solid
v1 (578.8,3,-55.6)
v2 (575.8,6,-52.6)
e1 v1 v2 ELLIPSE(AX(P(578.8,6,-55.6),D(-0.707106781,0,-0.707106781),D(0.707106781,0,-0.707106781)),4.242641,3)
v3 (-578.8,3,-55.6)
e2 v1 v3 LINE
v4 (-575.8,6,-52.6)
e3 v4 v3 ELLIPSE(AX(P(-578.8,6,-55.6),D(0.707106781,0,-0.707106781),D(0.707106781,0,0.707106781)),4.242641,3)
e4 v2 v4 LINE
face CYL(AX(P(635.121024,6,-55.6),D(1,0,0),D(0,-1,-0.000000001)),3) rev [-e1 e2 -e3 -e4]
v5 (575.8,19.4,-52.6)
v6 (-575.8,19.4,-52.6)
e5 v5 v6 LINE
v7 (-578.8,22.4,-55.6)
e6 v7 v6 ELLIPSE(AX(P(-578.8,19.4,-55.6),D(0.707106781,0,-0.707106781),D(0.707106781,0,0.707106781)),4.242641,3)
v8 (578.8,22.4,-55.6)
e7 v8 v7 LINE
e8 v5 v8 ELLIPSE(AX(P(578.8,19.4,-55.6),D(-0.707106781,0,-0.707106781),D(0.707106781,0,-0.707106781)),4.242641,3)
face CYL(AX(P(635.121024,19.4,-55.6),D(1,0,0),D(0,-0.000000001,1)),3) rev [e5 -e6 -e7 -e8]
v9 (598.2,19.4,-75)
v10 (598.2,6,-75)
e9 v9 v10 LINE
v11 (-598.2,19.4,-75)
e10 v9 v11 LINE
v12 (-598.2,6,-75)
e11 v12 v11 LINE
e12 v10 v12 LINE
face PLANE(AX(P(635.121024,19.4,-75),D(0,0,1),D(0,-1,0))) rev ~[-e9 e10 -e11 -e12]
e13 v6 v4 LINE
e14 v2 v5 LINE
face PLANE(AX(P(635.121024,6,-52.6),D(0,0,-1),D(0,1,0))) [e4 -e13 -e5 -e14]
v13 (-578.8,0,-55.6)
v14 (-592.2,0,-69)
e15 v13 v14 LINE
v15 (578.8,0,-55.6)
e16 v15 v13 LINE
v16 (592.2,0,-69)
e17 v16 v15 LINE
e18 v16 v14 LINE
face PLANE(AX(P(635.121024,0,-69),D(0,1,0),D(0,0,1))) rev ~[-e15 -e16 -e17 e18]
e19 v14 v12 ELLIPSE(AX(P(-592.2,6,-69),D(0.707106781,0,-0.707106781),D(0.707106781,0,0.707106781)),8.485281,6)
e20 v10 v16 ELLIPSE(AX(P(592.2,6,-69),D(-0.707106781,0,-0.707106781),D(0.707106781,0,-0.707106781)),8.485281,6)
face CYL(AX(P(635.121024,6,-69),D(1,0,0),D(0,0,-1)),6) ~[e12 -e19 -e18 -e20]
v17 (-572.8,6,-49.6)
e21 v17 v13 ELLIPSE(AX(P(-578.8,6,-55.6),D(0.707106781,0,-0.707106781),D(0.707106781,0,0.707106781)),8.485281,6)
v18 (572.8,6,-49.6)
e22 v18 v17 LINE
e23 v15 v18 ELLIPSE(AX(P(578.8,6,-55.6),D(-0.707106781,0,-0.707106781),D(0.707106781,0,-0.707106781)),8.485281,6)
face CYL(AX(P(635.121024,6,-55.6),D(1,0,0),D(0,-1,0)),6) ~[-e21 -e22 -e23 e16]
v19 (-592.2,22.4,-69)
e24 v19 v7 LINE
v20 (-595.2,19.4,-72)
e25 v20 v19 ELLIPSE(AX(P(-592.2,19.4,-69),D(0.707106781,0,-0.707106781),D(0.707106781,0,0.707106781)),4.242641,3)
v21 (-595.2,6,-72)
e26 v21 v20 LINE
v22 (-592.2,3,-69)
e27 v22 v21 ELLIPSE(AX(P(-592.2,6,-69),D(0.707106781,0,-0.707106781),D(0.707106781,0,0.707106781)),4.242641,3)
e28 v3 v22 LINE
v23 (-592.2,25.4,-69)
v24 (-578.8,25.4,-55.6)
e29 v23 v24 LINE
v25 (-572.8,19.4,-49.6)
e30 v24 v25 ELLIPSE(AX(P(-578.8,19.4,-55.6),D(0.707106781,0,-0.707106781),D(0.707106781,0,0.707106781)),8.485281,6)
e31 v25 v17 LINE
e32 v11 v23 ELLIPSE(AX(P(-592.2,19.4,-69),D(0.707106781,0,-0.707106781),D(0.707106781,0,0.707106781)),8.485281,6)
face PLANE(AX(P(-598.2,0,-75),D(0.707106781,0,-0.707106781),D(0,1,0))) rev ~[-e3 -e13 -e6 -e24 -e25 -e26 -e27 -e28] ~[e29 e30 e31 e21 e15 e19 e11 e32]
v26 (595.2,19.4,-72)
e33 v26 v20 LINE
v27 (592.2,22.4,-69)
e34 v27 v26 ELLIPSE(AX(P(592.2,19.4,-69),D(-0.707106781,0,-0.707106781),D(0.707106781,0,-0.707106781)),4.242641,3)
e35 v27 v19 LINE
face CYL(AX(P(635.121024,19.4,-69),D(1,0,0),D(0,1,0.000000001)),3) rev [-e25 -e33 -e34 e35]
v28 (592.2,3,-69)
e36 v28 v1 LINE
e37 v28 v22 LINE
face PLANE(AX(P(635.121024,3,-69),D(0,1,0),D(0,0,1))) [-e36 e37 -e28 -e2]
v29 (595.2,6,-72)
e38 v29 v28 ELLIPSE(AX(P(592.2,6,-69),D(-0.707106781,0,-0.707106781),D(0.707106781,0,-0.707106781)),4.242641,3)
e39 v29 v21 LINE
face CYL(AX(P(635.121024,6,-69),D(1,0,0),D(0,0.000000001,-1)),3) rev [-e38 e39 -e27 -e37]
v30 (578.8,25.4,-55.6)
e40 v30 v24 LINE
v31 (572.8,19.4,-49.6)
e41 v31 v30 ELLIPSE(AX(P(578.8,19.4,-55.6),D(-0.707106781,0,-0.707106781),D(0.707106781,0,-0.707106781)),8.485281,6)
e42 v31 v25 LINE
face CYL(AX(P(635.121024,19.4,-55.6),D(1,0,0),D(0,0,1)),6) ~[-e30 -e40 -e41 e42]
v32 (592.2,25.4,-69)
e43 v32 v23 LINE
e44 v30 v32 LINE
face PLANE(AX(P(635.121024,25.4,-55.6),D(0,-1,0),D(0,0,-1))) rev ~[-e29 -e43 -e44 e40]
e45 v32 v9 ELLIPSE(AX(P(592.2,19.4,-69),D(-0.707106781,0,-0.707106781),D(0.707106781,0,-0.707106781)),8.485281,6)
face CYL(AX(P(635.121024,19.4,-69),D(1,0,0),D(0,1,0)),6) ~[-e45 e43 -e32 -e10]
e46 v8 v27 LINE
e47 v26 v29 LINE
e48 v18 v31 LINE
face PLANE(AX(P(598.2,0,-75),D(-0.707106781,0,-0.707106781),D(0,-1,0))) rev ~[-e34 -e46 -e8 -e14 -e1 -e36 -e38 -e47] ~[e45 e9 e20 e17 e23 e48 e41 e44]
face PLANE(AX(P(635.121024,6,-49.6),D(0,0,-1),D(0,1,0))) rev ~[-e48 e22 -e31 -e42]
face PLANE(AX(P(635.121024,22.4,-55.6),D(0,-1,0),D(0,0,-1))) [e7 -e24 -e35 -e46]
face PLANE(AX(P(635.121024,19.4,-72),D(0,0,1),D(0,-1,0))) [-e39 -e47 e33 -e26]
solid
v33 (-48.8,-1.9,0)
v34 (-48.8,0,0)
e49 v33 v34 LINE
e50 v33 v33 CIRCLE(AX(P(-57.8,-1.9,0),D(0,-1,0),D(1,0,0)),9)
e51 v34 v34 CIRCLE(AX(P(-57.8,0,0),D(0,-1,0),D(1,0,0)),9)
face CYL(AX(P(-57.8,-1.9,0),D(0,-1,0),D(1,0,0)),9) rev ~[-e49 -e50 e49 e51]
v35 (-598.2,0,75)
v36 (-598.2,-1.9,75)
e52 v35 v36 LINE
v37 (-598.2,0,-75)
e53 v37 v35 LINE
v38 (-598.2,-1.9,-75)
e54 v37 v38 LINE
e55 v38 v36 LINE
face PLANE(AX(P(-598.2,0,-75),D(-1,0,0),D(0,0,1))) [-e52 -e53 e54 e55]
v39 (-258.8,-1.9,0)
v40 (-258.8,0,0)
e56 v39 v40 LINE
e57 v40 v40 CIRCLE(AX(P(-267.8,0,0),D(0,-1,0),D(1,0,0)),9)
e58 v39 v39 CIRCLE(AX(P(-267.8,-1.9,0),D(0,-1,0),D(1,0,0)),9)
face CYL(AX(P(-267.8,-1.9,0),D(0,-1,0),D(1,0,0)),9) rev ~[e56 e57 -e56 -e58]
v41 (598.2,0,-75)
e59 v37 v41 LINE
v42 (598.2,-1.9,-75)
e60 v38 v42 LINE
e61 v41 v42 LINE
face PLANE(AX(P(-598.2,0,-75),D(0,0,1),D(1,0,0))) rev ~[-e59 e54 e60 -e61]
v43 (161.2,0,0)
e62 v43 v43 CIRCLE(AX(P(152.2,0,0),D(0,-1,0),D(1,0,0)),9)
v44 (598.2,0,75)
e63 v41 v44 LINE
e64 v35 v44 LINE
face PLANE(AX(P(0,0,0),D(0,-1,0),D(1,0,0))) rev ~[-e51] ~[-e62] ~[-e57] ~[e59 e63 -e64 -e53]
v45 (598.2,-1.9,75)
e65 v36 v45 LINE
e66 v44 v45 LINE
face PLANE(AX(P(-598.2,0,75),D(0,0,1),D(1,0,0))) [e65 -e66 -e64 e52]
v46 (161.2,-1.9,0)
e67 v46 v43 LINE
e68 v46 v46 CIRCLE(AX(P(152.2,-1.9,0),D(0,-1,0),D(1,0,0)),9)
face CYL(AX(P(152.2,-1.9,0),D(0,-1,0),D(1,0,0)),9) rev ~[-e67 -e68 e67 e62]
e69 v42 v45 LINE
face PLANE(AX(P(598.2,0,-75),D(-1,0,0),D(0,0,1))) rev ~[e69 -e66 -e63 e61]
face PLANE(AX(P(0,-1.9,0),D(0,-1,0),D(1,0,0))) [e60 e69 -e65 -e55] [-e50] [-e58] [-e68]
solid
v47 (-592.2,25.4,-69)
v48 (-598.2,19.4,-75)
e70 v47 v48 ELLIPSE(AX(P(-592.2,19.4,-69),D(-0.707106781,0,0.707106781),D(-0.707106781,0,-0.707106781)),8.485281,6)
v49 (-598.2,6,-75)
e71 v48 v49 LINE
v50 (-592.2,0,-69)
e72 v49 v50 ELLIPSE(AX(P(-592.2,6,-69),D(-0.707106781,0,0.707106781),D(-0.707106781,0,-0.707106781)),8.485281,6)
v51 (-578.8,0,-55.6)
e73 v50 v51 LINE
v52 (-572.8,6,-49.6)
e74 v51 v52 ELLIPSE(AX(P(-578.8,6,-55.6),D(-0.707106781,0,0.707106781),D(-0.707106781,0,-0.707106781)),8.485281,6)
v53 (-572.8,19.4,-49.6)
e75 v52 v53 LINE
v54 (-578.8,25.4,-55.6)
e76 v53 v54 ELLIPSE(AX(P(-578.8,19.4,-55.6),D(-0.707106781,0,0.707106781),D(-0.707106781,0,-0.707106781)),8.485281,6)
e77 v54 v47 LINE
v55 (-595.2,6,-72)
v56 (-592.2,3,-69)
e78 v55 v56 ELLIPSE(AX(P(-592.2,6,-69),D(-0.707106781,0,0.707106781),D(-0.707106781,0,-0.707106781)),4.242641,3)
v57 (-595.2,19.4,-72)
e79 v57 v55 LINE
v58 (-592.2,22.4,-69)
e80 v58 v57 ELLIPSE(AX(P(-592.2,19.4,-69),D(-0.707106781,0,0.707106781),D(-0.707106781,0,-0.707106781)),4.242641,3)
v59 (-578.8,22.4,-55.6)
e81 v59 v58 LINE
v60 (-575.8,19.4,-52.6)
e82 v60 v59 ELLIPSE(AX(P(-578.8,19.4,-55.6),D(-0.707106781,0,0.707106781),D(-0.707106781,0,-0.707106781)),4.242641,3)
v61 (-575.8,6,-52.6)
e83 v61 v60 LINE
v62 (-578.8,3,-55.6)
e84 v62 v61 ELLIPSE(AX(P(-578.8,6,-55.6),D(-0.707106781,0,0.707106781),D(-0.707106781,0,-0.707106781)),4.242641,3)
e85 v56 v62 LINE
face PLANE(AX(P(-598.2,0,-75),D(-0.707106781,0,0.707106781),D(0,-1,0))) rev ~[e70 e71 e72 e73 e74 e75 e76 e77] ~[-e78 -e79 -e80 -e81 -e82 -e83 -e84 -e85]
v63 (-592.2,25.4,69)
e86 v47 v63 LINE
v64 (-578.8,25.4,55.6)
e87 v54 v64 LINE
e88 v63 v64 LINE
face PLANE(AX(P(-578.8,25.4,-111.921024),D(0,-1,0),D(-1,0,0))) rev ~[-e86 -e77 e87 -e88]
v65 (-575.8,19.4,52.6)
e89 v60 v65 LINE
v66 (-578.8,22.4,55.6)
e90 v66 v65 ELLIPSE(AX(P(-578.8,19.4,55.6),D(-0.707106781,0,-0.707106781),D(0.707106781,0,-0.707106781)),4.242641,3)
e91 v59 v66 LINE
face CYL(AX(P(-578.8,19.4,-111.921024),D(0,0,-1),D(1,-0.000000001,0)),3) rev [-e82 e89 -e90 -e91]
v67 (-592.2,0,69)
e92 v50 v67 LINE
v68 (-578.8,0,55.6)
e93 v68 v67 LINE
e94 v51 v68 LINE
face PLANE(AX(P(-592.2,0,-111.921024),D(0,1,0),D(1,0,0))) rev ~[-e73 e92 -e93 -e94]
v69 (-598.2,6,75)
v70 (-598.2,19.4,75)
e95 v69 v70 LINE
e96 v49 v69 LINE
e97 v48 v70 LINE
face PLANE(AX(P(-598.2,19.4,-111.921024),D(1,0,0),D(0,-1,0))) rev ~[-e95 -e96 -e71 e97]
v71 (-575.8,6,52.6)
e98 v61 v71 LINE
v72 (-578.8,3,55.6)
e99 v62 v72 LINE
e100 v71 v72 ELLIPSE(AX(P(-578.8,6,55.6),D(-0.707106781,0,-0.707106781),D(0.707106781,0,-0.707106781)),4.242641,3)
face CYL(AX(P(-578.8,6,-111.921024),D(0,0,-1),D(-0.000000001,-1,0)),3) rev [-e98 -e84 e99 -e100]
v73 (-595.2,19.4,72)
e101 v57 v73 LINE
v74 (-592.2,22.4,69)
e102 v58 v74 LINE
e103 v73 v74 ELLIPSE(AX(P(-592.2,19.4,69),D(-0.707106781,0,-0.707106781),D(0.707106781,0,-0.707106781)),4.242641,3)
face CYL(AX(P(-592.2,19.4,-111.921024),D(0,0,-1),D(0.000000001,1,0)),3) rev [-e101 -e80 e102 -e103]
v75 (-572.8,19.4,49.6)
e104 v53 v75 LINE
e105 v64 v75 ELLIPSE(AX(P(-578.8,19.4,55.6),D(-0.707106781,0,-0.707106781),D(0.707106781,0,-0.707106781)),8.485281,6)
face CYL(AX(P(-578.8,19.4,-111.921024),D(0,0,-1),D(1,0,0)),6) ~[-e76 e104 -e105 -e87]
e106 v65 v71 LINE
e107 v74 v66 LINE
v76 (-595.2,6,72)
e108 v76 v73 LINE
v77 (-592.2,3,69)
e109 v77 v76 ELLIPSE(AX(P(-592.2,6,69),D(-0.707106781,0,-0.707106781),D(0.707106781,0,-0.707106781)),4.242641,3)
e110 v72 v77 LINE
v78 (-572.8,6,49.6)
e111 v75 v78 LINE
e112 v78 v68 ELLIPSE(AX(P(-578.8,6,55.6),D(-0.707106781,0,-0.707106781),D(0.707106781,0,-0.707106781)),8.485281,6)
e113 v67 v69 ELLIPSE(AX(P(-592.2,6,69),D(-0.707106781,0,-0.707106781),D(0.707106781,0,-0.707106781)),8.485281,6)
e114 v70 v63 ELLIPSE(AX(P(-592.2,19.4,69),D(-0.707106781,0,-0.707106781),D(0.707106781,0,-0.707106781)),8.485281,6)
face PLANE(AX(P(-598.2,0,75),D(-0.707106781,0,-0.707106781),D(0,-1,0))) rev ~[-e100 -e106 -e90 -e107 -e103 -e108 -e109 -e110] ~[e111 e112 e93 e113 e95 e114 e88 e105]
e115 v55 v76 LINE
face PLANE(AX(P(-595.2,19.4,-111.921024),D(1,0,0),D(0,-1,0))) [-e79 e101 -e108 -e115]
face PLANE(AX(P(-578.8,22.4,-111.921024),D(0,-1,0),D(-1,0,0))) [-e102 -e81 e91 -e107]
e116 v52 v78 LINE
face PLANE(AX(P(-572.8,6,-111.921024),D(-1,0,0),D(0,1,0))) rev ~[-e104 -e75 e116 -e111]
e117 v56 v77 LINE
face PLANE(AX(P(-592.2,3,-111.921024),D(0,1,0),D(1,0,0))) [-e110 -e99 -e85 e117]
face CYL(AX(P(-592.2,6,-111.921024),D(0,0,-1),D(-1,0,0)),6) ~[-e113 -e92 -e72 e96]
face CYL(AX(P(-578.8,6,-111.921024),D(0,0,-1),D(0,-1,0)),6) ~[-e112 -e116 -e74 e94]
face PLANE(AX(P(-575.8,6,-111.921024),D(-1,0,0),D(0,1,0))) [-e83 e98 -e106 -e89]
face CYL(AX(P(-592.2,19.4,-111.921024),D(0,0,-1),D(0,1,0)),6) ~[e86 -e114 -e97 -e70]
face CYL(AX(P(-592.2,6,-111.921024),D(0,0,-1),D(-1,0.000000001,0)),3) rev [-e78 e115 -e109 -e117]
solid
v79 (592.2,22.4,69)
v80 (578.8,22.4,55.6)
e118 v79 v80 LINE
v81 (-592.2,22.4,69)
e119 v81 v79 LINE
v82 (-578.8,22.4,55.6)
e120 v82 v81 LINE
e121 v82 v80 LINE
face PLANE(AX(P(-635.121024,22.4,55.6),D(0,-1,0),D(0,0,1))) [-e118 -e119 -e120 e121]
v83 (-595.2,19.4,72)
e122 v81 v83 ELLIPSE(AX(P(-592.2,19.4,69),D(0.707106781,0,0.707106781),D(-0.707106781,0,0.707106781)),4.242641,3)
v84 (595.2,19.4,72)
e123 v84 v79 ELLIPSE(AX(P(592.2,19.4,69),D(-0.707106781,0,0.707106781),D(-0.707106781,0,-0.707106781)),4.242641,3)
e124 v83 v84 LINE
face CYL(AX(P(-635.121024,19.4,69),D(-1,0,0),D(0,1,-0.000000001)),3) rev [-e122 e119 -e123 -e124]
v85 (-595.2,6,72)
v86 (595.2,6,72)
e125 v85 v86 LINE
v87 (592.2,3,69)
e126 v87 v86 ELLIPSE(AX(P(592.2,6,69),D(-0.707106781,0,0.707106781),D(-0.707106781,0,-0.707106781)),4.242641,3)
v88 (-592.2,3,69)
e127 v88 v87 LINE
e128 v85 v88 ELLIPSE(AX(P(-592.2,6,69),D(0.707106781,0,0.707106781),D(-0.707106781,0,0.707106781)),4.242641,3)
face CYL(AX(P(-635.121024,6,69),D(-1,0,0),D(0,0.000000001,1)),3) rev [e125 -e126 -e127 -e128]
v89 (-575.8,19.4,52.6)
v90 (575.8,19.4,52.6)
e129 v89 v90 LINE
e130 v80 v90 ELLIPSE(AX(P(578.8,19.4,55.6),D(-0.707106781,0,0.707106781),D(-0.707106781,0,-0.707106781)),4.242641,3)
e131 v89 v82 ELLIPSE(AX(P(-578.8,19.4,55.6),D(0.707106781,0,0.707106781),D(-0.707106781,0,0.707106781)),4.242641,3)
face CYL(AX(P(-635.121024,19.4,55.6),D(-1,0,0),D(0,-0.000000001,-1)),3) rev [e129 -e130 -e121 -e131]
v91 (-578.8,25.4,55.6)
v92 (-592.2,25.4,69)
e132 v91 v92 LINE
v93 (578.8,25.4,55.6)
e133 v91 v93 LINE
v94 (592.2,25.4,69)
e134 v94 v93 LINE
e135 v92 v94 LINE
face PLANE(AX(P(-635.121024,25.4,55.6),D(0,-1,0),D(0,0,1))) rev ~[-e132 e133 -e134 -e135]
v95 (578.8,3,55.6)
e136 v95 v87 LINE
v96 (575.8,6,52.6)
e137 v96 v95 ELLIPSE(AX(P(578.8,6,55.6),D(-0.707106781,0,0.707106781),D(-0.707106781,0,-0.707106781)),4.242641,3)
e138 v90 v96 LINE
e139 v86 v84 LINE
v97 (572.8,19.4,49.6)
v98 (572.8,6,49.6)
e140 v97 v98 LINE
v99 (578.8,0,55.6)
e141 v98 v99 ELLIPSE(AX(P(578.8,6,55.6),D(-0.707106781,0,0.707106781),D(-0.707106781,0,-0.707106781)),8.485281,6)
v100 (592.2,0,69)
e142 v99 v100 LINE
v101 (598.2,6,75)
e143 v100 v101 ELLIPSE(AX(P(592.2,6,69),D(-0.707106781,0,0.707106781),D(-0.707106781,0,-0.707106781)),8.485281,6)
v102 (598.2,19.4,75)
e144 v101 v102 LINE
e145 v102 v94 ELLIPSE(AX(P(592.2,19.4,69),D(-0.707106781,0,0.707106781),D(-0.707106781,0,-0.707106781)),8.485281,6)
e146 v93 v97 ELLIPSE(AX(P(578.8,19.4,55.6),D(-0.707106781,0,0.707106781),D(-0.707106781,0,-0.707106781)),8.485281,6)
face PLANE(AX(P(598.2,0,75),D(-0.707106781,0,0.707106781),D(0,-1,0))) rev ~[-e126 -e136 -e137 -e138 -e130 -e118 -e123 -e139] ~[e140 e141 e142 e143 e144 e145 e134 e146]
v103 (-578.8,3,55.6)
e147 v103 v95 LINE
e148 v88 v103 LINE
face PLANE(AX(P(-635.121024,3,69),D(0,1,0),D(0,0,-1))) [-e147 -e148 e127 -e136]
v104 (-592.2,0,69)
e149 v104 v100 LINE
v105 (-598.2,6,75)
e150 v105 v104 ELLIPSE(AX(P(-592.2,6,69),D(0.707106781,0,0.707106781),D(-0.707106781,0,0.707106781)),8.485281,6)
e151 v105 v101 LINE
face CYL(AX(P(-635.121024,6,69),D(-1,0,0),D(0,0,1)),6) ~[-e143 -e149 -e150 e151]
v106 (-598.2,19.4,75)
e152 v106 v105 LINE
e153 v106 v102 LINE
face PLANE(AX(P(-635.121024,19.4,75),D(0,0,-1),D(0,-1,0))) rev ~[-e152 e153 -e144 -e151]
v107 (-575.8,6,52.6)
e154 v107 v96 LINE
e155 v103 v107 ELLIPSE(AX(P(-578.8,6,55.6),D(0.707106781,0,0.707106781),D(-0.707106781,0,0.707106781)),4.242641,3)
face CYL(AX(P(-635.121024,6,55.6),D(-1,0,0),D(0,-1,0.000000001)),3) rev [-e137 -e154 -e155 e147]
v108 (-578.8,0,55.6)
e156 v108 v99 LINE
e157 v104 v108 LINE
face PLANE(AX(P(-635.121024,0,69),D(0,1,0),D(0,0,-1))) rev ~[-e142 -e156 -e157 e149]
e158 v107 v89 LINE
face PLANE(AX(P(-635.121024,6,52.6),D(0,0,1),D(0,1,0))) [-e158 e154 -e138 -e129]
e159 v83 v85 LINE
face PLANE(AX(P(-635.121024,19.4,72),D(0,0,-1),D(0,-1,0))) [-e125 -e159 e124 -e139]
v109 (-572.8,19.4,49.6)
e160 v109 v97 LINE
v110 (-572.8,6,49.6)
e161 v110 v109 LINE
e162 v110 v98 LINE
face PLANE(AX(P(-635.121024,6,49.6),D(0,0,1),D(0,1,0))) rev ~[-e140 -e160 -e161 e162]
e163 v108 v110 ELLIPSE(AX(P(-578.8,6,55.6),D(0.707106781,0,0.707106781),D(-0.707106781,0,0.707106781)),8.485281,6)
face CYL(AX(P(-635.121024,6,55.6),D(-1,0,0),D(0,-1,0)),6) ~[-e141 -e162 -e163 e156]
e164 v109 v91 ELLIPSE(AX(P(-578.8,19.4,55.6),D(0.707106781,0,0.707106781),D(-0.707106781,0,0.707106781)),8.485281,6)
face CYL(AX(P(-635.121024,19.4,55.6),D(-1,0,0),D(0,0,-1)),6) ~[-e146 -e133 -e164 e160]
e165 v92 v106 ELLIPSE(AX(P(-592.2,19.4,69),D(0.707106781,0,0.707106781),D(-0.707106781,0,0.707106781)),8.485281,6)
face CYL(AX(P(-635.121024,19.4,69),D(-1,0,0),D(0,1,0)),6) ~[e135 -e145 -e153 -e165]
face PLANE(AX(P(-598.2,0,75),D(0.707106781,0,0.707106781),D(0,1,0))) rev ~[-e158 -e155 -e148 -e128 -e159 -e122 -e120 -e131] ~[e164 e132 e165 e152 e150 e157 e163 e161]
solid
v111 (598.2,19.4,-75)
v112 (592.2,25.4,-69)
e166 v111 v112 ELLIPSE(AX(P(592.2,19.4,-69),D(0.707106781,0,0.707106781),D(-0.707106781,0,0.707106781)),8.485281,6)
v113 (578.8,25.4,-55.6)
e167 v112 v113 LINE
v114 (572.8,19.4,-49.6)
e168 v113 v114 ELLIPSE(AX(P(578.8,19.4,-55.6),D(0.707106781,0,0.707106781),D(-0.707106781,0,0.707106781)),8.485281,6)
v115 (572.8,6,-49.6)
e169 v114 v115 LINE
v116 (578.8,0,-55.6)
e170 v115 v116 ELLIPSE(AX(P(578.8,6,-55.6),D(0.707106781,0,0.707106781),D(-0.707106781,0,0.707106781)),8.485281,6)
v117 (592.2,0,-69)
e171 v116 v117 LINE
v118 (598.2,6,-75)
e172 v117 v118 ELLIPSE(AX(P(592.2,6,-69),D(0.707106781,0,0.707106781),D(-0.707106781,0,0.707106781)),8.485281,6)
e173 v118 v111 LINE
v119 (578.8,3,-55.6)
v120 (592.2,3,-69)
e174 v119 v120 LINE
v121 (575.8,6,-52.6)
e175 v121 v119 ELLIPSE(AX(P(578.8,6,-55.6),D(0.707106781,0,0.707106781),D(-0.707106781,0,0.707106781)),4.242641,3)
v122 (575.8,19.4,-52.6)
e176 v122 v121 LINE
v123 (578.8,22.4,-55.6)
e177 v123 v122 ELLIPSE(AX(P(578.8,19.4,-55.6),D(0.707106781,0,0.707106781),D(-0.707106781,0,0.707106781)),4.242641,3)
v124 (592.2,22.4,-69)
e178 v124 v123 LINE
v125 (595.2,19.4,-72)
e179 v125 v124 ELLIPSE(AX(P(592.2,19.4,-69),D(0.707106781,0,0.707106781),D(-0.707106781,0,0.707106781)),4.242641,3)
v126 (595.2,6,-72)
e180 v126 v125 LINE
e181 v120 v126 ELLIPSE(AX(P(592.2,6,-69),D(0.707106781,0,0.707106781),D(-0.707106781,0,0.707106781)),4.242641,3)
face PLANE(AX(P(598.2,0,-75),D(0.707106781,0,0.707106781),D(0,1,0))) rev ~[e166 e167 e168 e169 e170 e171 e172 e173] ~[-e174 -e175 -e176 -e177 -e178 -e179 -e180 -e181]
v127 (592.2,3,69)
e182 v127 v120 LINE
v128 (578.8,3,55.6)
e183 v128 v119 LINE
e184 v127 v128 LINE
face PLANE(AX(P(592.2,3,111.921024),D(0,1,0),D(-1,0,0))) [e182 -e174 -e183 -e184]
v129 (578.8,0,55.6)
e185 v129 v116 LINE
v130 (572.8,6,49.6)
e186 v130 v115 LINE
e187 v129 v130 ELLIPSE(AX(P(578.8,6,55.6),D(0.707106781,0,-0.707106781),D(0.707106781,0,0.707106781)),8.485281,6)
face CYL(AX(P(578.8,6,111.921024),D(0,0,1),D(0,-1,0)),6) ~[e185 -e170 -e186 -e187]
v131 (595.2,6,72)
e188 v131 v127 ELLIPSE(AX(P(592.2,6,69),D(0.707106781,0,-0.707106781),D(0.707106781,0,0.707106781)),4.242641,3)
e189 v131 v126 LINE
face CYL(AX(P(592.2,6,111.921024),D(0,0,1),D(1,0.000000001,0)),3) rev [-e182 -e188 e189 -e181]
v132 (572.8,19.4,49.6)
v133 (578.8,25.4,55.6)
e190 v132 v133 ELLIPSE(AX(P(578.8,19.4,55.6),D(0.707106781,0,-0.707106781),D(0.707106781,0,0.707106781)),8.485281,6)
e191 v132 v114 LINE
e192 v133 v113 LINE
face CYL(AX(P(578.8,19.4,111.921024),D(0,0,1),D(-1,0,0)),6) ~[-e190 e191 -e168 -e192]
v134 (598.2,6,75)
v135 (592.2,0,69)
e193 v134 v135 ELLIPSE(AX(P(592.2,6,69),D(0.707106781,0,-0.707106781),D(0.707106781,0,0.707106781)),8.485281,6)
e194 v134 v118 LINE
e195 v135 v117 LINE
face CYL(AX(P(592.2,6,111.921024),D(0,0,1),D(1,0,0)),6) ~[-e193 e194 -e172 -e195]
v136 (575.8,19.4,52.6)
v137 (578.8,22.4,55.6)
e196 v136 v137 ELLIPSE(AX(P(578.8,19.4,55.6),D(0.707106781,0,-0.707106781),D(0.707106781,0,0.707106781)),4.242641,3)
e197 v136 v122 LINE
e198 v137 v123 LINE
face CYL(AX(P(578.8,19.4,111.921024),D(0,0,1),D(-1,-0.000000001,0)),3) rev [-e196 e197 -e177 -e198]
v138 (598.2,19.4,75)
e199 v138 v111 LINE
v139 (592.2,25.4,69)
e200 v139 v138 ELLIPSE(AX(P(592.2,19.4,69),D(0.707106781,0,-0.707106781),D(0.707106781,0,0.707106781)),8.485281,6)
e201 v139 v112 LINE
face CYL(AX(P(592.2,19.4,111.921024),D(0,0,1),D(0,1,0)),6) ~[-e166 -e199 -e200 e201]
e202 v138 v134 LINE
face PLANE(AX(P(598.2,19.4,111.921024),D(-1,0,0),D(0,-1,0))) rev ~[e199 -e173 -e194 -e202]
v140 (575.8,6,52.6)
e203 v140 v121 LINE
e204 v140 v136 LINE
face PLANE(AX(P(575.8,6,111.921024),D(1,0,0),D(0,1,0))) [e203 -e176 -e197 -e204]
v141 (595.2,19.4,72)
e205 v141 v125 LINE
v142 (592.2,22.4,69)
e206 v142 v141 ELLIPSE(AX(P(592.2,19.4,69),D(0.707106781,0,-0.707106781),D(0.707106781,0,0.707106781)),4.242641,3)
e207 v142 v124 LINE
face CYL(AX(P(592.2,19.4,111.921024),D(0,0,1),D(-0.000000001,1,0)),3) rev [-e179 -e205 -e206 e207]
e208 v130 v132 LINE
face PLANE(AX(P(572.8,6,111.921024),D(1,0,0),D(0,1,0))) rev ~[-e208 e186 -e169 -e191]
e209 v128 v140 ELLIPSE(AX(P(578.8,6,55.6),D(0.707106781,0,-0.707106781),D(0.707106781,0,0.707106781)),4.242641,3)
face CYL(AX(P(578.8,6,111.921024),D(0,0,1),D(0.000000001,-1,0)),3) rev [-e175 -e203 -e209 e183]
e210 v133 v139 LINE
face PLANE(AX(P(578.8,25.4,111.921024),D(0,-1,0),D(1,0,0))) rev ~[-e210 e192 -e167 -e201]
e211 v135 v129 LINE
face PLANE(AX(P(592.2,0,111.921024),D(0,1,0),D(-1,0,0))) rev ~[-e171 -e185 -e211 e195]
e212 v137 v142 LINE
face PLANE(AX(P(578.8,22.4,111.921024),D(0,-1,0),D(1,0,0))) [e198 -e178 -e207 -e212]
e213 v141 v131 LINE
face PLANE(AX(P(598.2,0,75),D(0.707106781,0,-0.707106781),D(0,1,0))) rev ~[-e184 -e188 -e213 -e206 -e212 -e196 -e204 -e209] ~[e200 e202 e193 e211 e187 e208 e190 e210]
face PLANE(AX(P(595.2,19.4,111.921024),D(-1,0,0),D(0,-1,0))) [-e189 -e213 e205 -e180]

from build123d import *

# Parameters (mm, degrees)
TUBO_CUADRADO_2_X_2_X_0_25_1_DEPTH      = 186.921024484
TUBO_CUADRADO_2_X_2_X_0_25_1_DEPTH_BACK = 36.921024484
TUBO_CUADRADO_2_X_2_X_0_25_1_2_DEPTH    = 1270.242048969
TUBO_CUADRADO_2_X_2_X_0_25_1_3_DEPTH    = 223.842048969
TUBO_CUADRADO_2_X_2_X_0_25_1_4_DEPTH    = 1270.242048969
CROQUIS3_W                              = 1196.4
CROQUIS3_H                              = 150
SALIENTE_EXTRUIR1_DEPTH                 = 1.9
CROQUIS6_R                              = 9
CORTAR_EXTRUIR1_DEPTH                   = 10


with BuildPart() as part:
    # Sketch1 → Tubo cuadrado 2 X 2 X 0.25(1) (new, two sides: drawn at the far end of the back side and taken through both)
    with BuildSketch(Plane(origin=(-585.5, 12.7, -75), x_dir=(1, 0, 0), z_dir=(0, 0, 1)).offset(-TUBO_CUADRADO_2_X_2_X_0_25_1_DEPTH_BACK)):
        with BuildLine():
            Line((-6.7, -12.7), (6.7, -12.7))
            ThreePointArc((6.7, -12.7), (10.942640687, -10.942640687), (12.7, -6.7))
            Line((12.7, -6.7), (12.7, 6.7))
            ThreePointArc((12.7, 6.7), (10.942640687, 10.942640687), (6.7, 12.7))
            Line((6.7, 12.7), (-6.7, 12.7))
            ThreePointArc((-6.7, 12.7), (-10.942640687, 10.942640687), (-12.7, 6.7))
            Line((-12.7, 6.7), (-12.7, -6.7))
            ThreePointArc((-12.7, -6.7), (-10.942640687, -10.942640687), (-6.7, -12.7))
        make_face()
        with BuildLine():
            Line((-6.7, -9.7), (6.7, -9.7))
            ThreePointArc((6.7, -9.7), (8.821320344, -8.821320344), (9.7, -6.7))
            Line((9.7, -6.7), (9.7, 6.7))
            ThreePointArc((9.7, 6.7), (8.821320344, 8.821320344), (6.7, 9.7))
            Line((6.7, 9.7), (-6.7, 9.7))
            ThreePointArc((-6.7, 9.7), (-8.821320344, 8.821320344), (-9.7, 6.7))
            Line((-9.7, 6.7), (-9.7, -6.7))
            ThreePointArc((-9.7, -6.7), (-8.821320344, -8.821320344), (-6.7, -9.7))
        make_face(mode=Mode.SUBTRACT)
    extrude(amount=TUBO_CUADRADO_2_X_2_X_0_25_1_DEPTH + TUBO_CUADRADO_2_X_2_X_0_25_1_DEPTH_BACK)

    # Tubo cuadrado 2 X 2 X 0.25(1) mitre 1
    split(bisect_by=Plane(origin=(-598.2, 0, -75), x_dir=(0, -1, 0), z_dir=(-0.707106781, 0, 0.707106781)), keep=Keep.TOP)

    # Tubo cuadrado 2 X 2 X 0.25(1) mitre 2
    split(bisect_by=Plane(origin=(-598.2, 0, 75), x_dir=(0, -1, 0), z_dir=(-0.707106781, 0, -0.707106781)), keep=Keep.TOP)


with BuildPart() as body_2:
    # Sketch1 on segment 2 (carried to segment 2) → Tubo cuadrado 2 X 2 X 0.25_1 2 (new body)
    with BuildSketch(Plane(origin=(-635.121024484, 12.7, 62.3), x_dir=(0, 0, -1), z_dir=(1, 0, 0))):
        with BuildLine():
            Line((-6.7, -12.7), (6.7, -12.7))
            ThreePointArc((6.7, -12.7), (10.942640687, -10.942640687), (12.7, -6.7))
            Line((12.7, -6.7), (12.7, 6.7))
            ThreePointArc((12.7, 6.7), (10.942640687, 10.942640687), (6.7, 12.7))
            Line((6.7, 12.7), (-6.7, 12.7))
            ThreePointArc((-6.7, 12.7), (-10.942640687, 10.942640687), (-12.7, 6.7))
            Line((-12.7, 6.7), (-12.7, -6.7))
            ThreePointArc((-12.7, -6.7), (-10.942640687, -10.942640687), (-6.7, -12.7))
        make_face()
        with BuildLine():
            Line((-6.7, -9.7), (6.7, -9.7))
            ThreePointArc((6.7, -9.7), (8.821320344, -8.821320344), (9.7, -6.7))
            Line((9.7, -6.7), (9.7, 6.7))
            ThreePointArc((9.7, 6.7), (8.821320344, 8.821320344), (6.7, 9.7))
            Line((6.7, 9.7), (-6.7, 9.7))
            ThreePointArc((-6.7, 9.7), (-8.821320344, 8.821320344), (-9.7, 6.7))
            Line((-9.7, 6.7), (-9.7, -6.7))
            ThreePointArc((-9.7, -6.7), (-8.821320344, -8.821320344), (-6.7, -9.7))
        make_face(mode=Mode.SUBTRACT)
    extrude(amount=TUBO_CUADRADO_2_X_2_X_0_25_1_2_DEPTH)

    # Tubo cuadrado 2 X 2 X 0.25_1 2 mitre 1
    split(bisect_by=Plane(origin=(-598.2, 0, 75), x_dir=(0, 1, 0), z_dir=(0.707106781, 0, 0.707106781)), keep=Keep.TOP)

    # Tubo cuadrado 2 X 2 X 0.25_1 2 mitre 2
    split(bisect_by=Plane(origin=(598.2, 0, 75), x_dir=(0, -1, 0), z_dir=(-0.707106781, 0, 0.707106781)), keep=Keep.TOP)


with BuildPart() as body_3:
    # Sketch1 on segment 3 (carried to segment 3) → Tubo cuadrado 2 X 2 X 0.25_1 3 (new body)
    with BuildSketch(Plane(origin=(585.5, 12.7, 111.921024484), x_dir=(-1, 0, 0), z_dir=(0, 0, -1))):
        with BuildLine():
            Line((-6.7, -12.7), (6.7, -12.7))
            ThreePointArc((6.7, -12.7), (10.942640687, -10.942640687), (12.7, -6.7))
            Line((12.7, -6.7), (12.7, 6.7))
            ThreePointArc((12.7, 6.7), (10.942640687, 10.942640687), (6.7, 12.7))
            Line((6.7, 12.7), (-6.7, 12.7))
            ThreePointArc((-6.7, 12.7), (-10.942640687, 10.942640687), (-12.7, 6.7))
            Line((-12.7, 6.7), (-12.7, -6.7))
            ThreePointArc((-12.7, -6.7), (-10.942640687, -10.942640687), (-6.7, -12.7))
        make_face()
        with BuildLine():
            Line((-6.7, -9.7), (6.7, -9.7))
            ThreePointArc((6.7, -9.7), (8.821320344, -8.821320344), (9.7, -6.7))
            Line((9.7, -6.7), (9.7, 6.7))
            ThreePointArc((9.7, 6.7), (8.821320344, 8.821320344), (6.7, 9.7))
            Line((6.7, 9.7), (-6.7, 9.7))
            ThreePointArc((-6.7, 9.7), (-8.821320344, 8.821320344), (-9.7, 6.7))
            Line((-9.7, 6.7), (-9.7, -6.7))
            ThreePointArc((-9.7, -6.7), (-8.821320344, -8.821320344), (-6.7, -9.7))
        make_face(mode=Mode.SUBTRACT)
    extrude(amount=TUBO_CUADRADO_2_X_2_X_0_25_1_3_DEPTH)

    # Tubo cuadrado 2 X 2 X 0.25_1 3 mitre 1
    split(bisect_by=Plane(origin=(598.2, 0, -75), x_dir=(0, 1, 0), z_dir=(0.707106781, 0, 0.707106781)), keep=Keep.TOP)

    # Tubo cuadrado 2 X 2 X 0.25_1 3 mitre 2
    split(bisect_by=Plane(origin=(598.2, 0, 75), x_dir=(0, 1, 0), z_dir=(0.707106781, 0, -0.707106781)), keep=Keep.TOP)


with BuildPart() as body_4:
    # Sketch1 on segment 4 (carried to segment 4) → Tubo cuadrado 2 X 2 X 0.25_1 4 (new body)
    with BuildSketch(Plane(origin=(635.121024484, 12.7, -62.3), x_dir=(0, 0, 1), z_dir=(-1, 0, 0))):
        with BuildLine():
            Line((-6.7, -12.7), (6.7, -12.7))
            ThreePointArc((6.7, -12.7), (10.942640687, -10.942640687), (12.7, -6.7))
            Line((12.7, -6.7), (12.7, 6.7))
            ThreePointArc((12.7, 6.7), (10.942640687, 10.942640687), (6.7, 12.7))
            Line((6.7, 12.7), (-6.7, 12.7))
            ThreePointArc((-6.7, 12.7), (-10.942640687, 10.942640687), (-12.7, 6.7))
            Line((-12.7, 6.7), (-12.7, -6.7))
            ThreePointArc((-12.7, -6.7), (-10.942640687, -10.942640687), (-6.7, -12.7))
        make_face()
        with BuildLine():
            Line((-6.7, -9.7), (6.7, -9.7))
            ThreePointArc((6.7, -9.7), (8.821320344, -8.821320344), (9.7, -6.7))
            Line((9.7, -6.7), (9.7, 6.7))
            ThreePointArc((9.7, 6.7), (8.821320344, 8.821320344), (6.7, 9.7))
            Line((6.7, 9.7), (-6.7, 9.7))
            ThreePointArc((-6.7, 9.7), (-8.821320344, 8.821320344), (-9.7, 6.7))
            Line((-9.7, 6.7), (-9.7, -6.7))
            ThreePointArc((-9.7, -6.7), (-8.821320344, -8.821320344), (-6.7, -9.7))
        make_face(mode=Mode.SUBTRACT)
    extrude(amount=TUBO_CUADRADO_2_X_2_X_0_25_1_4_DEPTH)

    # Tubo cuadrado 2 X 2 X 0.25_1 4 mitre 1
    split(bisect_by=Plane(origin=(-598.2, 0, -75), x_dir=(0, 1, 0), z_dir=(0.707106781, 0, -0.707106781)), keep=Keep.TOP)

    # Tubo cuadrado 2 X 2 X 0.25_1 4 mitre 2
    split(bisect_by=Plane(origin=(598.2, 0, -75), x_dir=(0, -1, 0), z_dir=(-0.707106781, 0, -0.707106781)), keep=Keep.TOP)


with BuildPart() as body_5:
    # Croquis3 → Saliente-Extruir1 (new body)
    with BuildSketch(Plane.XZ):
        Rectangle(CROQUIS3_W, CROQUIS3_H)
    extrude(amount=SALIENTE_EXTRUIR1_DEPTH)

    # Croquis6 → Cortar-Extruir1 (cut)
    with BuildSketch(Plane.XZ.offset(1.9)):
        with Locations((-267.8, 0)):
            Circle(CROQUIS6_R)
        with Locations((-57.8, 0)):
            Circle(CROQUIS6_R)
        with Locations((152.2, 0)):
            Circle(CROQUIS6_R)
    extrude(amount=-CORTAR_EXTRUIR1_DEPTH, mode=Mode.SUBTRACT)


solid = Compound([part.part, body_2.part, body_3.part, body_4.part, body_5.part])
